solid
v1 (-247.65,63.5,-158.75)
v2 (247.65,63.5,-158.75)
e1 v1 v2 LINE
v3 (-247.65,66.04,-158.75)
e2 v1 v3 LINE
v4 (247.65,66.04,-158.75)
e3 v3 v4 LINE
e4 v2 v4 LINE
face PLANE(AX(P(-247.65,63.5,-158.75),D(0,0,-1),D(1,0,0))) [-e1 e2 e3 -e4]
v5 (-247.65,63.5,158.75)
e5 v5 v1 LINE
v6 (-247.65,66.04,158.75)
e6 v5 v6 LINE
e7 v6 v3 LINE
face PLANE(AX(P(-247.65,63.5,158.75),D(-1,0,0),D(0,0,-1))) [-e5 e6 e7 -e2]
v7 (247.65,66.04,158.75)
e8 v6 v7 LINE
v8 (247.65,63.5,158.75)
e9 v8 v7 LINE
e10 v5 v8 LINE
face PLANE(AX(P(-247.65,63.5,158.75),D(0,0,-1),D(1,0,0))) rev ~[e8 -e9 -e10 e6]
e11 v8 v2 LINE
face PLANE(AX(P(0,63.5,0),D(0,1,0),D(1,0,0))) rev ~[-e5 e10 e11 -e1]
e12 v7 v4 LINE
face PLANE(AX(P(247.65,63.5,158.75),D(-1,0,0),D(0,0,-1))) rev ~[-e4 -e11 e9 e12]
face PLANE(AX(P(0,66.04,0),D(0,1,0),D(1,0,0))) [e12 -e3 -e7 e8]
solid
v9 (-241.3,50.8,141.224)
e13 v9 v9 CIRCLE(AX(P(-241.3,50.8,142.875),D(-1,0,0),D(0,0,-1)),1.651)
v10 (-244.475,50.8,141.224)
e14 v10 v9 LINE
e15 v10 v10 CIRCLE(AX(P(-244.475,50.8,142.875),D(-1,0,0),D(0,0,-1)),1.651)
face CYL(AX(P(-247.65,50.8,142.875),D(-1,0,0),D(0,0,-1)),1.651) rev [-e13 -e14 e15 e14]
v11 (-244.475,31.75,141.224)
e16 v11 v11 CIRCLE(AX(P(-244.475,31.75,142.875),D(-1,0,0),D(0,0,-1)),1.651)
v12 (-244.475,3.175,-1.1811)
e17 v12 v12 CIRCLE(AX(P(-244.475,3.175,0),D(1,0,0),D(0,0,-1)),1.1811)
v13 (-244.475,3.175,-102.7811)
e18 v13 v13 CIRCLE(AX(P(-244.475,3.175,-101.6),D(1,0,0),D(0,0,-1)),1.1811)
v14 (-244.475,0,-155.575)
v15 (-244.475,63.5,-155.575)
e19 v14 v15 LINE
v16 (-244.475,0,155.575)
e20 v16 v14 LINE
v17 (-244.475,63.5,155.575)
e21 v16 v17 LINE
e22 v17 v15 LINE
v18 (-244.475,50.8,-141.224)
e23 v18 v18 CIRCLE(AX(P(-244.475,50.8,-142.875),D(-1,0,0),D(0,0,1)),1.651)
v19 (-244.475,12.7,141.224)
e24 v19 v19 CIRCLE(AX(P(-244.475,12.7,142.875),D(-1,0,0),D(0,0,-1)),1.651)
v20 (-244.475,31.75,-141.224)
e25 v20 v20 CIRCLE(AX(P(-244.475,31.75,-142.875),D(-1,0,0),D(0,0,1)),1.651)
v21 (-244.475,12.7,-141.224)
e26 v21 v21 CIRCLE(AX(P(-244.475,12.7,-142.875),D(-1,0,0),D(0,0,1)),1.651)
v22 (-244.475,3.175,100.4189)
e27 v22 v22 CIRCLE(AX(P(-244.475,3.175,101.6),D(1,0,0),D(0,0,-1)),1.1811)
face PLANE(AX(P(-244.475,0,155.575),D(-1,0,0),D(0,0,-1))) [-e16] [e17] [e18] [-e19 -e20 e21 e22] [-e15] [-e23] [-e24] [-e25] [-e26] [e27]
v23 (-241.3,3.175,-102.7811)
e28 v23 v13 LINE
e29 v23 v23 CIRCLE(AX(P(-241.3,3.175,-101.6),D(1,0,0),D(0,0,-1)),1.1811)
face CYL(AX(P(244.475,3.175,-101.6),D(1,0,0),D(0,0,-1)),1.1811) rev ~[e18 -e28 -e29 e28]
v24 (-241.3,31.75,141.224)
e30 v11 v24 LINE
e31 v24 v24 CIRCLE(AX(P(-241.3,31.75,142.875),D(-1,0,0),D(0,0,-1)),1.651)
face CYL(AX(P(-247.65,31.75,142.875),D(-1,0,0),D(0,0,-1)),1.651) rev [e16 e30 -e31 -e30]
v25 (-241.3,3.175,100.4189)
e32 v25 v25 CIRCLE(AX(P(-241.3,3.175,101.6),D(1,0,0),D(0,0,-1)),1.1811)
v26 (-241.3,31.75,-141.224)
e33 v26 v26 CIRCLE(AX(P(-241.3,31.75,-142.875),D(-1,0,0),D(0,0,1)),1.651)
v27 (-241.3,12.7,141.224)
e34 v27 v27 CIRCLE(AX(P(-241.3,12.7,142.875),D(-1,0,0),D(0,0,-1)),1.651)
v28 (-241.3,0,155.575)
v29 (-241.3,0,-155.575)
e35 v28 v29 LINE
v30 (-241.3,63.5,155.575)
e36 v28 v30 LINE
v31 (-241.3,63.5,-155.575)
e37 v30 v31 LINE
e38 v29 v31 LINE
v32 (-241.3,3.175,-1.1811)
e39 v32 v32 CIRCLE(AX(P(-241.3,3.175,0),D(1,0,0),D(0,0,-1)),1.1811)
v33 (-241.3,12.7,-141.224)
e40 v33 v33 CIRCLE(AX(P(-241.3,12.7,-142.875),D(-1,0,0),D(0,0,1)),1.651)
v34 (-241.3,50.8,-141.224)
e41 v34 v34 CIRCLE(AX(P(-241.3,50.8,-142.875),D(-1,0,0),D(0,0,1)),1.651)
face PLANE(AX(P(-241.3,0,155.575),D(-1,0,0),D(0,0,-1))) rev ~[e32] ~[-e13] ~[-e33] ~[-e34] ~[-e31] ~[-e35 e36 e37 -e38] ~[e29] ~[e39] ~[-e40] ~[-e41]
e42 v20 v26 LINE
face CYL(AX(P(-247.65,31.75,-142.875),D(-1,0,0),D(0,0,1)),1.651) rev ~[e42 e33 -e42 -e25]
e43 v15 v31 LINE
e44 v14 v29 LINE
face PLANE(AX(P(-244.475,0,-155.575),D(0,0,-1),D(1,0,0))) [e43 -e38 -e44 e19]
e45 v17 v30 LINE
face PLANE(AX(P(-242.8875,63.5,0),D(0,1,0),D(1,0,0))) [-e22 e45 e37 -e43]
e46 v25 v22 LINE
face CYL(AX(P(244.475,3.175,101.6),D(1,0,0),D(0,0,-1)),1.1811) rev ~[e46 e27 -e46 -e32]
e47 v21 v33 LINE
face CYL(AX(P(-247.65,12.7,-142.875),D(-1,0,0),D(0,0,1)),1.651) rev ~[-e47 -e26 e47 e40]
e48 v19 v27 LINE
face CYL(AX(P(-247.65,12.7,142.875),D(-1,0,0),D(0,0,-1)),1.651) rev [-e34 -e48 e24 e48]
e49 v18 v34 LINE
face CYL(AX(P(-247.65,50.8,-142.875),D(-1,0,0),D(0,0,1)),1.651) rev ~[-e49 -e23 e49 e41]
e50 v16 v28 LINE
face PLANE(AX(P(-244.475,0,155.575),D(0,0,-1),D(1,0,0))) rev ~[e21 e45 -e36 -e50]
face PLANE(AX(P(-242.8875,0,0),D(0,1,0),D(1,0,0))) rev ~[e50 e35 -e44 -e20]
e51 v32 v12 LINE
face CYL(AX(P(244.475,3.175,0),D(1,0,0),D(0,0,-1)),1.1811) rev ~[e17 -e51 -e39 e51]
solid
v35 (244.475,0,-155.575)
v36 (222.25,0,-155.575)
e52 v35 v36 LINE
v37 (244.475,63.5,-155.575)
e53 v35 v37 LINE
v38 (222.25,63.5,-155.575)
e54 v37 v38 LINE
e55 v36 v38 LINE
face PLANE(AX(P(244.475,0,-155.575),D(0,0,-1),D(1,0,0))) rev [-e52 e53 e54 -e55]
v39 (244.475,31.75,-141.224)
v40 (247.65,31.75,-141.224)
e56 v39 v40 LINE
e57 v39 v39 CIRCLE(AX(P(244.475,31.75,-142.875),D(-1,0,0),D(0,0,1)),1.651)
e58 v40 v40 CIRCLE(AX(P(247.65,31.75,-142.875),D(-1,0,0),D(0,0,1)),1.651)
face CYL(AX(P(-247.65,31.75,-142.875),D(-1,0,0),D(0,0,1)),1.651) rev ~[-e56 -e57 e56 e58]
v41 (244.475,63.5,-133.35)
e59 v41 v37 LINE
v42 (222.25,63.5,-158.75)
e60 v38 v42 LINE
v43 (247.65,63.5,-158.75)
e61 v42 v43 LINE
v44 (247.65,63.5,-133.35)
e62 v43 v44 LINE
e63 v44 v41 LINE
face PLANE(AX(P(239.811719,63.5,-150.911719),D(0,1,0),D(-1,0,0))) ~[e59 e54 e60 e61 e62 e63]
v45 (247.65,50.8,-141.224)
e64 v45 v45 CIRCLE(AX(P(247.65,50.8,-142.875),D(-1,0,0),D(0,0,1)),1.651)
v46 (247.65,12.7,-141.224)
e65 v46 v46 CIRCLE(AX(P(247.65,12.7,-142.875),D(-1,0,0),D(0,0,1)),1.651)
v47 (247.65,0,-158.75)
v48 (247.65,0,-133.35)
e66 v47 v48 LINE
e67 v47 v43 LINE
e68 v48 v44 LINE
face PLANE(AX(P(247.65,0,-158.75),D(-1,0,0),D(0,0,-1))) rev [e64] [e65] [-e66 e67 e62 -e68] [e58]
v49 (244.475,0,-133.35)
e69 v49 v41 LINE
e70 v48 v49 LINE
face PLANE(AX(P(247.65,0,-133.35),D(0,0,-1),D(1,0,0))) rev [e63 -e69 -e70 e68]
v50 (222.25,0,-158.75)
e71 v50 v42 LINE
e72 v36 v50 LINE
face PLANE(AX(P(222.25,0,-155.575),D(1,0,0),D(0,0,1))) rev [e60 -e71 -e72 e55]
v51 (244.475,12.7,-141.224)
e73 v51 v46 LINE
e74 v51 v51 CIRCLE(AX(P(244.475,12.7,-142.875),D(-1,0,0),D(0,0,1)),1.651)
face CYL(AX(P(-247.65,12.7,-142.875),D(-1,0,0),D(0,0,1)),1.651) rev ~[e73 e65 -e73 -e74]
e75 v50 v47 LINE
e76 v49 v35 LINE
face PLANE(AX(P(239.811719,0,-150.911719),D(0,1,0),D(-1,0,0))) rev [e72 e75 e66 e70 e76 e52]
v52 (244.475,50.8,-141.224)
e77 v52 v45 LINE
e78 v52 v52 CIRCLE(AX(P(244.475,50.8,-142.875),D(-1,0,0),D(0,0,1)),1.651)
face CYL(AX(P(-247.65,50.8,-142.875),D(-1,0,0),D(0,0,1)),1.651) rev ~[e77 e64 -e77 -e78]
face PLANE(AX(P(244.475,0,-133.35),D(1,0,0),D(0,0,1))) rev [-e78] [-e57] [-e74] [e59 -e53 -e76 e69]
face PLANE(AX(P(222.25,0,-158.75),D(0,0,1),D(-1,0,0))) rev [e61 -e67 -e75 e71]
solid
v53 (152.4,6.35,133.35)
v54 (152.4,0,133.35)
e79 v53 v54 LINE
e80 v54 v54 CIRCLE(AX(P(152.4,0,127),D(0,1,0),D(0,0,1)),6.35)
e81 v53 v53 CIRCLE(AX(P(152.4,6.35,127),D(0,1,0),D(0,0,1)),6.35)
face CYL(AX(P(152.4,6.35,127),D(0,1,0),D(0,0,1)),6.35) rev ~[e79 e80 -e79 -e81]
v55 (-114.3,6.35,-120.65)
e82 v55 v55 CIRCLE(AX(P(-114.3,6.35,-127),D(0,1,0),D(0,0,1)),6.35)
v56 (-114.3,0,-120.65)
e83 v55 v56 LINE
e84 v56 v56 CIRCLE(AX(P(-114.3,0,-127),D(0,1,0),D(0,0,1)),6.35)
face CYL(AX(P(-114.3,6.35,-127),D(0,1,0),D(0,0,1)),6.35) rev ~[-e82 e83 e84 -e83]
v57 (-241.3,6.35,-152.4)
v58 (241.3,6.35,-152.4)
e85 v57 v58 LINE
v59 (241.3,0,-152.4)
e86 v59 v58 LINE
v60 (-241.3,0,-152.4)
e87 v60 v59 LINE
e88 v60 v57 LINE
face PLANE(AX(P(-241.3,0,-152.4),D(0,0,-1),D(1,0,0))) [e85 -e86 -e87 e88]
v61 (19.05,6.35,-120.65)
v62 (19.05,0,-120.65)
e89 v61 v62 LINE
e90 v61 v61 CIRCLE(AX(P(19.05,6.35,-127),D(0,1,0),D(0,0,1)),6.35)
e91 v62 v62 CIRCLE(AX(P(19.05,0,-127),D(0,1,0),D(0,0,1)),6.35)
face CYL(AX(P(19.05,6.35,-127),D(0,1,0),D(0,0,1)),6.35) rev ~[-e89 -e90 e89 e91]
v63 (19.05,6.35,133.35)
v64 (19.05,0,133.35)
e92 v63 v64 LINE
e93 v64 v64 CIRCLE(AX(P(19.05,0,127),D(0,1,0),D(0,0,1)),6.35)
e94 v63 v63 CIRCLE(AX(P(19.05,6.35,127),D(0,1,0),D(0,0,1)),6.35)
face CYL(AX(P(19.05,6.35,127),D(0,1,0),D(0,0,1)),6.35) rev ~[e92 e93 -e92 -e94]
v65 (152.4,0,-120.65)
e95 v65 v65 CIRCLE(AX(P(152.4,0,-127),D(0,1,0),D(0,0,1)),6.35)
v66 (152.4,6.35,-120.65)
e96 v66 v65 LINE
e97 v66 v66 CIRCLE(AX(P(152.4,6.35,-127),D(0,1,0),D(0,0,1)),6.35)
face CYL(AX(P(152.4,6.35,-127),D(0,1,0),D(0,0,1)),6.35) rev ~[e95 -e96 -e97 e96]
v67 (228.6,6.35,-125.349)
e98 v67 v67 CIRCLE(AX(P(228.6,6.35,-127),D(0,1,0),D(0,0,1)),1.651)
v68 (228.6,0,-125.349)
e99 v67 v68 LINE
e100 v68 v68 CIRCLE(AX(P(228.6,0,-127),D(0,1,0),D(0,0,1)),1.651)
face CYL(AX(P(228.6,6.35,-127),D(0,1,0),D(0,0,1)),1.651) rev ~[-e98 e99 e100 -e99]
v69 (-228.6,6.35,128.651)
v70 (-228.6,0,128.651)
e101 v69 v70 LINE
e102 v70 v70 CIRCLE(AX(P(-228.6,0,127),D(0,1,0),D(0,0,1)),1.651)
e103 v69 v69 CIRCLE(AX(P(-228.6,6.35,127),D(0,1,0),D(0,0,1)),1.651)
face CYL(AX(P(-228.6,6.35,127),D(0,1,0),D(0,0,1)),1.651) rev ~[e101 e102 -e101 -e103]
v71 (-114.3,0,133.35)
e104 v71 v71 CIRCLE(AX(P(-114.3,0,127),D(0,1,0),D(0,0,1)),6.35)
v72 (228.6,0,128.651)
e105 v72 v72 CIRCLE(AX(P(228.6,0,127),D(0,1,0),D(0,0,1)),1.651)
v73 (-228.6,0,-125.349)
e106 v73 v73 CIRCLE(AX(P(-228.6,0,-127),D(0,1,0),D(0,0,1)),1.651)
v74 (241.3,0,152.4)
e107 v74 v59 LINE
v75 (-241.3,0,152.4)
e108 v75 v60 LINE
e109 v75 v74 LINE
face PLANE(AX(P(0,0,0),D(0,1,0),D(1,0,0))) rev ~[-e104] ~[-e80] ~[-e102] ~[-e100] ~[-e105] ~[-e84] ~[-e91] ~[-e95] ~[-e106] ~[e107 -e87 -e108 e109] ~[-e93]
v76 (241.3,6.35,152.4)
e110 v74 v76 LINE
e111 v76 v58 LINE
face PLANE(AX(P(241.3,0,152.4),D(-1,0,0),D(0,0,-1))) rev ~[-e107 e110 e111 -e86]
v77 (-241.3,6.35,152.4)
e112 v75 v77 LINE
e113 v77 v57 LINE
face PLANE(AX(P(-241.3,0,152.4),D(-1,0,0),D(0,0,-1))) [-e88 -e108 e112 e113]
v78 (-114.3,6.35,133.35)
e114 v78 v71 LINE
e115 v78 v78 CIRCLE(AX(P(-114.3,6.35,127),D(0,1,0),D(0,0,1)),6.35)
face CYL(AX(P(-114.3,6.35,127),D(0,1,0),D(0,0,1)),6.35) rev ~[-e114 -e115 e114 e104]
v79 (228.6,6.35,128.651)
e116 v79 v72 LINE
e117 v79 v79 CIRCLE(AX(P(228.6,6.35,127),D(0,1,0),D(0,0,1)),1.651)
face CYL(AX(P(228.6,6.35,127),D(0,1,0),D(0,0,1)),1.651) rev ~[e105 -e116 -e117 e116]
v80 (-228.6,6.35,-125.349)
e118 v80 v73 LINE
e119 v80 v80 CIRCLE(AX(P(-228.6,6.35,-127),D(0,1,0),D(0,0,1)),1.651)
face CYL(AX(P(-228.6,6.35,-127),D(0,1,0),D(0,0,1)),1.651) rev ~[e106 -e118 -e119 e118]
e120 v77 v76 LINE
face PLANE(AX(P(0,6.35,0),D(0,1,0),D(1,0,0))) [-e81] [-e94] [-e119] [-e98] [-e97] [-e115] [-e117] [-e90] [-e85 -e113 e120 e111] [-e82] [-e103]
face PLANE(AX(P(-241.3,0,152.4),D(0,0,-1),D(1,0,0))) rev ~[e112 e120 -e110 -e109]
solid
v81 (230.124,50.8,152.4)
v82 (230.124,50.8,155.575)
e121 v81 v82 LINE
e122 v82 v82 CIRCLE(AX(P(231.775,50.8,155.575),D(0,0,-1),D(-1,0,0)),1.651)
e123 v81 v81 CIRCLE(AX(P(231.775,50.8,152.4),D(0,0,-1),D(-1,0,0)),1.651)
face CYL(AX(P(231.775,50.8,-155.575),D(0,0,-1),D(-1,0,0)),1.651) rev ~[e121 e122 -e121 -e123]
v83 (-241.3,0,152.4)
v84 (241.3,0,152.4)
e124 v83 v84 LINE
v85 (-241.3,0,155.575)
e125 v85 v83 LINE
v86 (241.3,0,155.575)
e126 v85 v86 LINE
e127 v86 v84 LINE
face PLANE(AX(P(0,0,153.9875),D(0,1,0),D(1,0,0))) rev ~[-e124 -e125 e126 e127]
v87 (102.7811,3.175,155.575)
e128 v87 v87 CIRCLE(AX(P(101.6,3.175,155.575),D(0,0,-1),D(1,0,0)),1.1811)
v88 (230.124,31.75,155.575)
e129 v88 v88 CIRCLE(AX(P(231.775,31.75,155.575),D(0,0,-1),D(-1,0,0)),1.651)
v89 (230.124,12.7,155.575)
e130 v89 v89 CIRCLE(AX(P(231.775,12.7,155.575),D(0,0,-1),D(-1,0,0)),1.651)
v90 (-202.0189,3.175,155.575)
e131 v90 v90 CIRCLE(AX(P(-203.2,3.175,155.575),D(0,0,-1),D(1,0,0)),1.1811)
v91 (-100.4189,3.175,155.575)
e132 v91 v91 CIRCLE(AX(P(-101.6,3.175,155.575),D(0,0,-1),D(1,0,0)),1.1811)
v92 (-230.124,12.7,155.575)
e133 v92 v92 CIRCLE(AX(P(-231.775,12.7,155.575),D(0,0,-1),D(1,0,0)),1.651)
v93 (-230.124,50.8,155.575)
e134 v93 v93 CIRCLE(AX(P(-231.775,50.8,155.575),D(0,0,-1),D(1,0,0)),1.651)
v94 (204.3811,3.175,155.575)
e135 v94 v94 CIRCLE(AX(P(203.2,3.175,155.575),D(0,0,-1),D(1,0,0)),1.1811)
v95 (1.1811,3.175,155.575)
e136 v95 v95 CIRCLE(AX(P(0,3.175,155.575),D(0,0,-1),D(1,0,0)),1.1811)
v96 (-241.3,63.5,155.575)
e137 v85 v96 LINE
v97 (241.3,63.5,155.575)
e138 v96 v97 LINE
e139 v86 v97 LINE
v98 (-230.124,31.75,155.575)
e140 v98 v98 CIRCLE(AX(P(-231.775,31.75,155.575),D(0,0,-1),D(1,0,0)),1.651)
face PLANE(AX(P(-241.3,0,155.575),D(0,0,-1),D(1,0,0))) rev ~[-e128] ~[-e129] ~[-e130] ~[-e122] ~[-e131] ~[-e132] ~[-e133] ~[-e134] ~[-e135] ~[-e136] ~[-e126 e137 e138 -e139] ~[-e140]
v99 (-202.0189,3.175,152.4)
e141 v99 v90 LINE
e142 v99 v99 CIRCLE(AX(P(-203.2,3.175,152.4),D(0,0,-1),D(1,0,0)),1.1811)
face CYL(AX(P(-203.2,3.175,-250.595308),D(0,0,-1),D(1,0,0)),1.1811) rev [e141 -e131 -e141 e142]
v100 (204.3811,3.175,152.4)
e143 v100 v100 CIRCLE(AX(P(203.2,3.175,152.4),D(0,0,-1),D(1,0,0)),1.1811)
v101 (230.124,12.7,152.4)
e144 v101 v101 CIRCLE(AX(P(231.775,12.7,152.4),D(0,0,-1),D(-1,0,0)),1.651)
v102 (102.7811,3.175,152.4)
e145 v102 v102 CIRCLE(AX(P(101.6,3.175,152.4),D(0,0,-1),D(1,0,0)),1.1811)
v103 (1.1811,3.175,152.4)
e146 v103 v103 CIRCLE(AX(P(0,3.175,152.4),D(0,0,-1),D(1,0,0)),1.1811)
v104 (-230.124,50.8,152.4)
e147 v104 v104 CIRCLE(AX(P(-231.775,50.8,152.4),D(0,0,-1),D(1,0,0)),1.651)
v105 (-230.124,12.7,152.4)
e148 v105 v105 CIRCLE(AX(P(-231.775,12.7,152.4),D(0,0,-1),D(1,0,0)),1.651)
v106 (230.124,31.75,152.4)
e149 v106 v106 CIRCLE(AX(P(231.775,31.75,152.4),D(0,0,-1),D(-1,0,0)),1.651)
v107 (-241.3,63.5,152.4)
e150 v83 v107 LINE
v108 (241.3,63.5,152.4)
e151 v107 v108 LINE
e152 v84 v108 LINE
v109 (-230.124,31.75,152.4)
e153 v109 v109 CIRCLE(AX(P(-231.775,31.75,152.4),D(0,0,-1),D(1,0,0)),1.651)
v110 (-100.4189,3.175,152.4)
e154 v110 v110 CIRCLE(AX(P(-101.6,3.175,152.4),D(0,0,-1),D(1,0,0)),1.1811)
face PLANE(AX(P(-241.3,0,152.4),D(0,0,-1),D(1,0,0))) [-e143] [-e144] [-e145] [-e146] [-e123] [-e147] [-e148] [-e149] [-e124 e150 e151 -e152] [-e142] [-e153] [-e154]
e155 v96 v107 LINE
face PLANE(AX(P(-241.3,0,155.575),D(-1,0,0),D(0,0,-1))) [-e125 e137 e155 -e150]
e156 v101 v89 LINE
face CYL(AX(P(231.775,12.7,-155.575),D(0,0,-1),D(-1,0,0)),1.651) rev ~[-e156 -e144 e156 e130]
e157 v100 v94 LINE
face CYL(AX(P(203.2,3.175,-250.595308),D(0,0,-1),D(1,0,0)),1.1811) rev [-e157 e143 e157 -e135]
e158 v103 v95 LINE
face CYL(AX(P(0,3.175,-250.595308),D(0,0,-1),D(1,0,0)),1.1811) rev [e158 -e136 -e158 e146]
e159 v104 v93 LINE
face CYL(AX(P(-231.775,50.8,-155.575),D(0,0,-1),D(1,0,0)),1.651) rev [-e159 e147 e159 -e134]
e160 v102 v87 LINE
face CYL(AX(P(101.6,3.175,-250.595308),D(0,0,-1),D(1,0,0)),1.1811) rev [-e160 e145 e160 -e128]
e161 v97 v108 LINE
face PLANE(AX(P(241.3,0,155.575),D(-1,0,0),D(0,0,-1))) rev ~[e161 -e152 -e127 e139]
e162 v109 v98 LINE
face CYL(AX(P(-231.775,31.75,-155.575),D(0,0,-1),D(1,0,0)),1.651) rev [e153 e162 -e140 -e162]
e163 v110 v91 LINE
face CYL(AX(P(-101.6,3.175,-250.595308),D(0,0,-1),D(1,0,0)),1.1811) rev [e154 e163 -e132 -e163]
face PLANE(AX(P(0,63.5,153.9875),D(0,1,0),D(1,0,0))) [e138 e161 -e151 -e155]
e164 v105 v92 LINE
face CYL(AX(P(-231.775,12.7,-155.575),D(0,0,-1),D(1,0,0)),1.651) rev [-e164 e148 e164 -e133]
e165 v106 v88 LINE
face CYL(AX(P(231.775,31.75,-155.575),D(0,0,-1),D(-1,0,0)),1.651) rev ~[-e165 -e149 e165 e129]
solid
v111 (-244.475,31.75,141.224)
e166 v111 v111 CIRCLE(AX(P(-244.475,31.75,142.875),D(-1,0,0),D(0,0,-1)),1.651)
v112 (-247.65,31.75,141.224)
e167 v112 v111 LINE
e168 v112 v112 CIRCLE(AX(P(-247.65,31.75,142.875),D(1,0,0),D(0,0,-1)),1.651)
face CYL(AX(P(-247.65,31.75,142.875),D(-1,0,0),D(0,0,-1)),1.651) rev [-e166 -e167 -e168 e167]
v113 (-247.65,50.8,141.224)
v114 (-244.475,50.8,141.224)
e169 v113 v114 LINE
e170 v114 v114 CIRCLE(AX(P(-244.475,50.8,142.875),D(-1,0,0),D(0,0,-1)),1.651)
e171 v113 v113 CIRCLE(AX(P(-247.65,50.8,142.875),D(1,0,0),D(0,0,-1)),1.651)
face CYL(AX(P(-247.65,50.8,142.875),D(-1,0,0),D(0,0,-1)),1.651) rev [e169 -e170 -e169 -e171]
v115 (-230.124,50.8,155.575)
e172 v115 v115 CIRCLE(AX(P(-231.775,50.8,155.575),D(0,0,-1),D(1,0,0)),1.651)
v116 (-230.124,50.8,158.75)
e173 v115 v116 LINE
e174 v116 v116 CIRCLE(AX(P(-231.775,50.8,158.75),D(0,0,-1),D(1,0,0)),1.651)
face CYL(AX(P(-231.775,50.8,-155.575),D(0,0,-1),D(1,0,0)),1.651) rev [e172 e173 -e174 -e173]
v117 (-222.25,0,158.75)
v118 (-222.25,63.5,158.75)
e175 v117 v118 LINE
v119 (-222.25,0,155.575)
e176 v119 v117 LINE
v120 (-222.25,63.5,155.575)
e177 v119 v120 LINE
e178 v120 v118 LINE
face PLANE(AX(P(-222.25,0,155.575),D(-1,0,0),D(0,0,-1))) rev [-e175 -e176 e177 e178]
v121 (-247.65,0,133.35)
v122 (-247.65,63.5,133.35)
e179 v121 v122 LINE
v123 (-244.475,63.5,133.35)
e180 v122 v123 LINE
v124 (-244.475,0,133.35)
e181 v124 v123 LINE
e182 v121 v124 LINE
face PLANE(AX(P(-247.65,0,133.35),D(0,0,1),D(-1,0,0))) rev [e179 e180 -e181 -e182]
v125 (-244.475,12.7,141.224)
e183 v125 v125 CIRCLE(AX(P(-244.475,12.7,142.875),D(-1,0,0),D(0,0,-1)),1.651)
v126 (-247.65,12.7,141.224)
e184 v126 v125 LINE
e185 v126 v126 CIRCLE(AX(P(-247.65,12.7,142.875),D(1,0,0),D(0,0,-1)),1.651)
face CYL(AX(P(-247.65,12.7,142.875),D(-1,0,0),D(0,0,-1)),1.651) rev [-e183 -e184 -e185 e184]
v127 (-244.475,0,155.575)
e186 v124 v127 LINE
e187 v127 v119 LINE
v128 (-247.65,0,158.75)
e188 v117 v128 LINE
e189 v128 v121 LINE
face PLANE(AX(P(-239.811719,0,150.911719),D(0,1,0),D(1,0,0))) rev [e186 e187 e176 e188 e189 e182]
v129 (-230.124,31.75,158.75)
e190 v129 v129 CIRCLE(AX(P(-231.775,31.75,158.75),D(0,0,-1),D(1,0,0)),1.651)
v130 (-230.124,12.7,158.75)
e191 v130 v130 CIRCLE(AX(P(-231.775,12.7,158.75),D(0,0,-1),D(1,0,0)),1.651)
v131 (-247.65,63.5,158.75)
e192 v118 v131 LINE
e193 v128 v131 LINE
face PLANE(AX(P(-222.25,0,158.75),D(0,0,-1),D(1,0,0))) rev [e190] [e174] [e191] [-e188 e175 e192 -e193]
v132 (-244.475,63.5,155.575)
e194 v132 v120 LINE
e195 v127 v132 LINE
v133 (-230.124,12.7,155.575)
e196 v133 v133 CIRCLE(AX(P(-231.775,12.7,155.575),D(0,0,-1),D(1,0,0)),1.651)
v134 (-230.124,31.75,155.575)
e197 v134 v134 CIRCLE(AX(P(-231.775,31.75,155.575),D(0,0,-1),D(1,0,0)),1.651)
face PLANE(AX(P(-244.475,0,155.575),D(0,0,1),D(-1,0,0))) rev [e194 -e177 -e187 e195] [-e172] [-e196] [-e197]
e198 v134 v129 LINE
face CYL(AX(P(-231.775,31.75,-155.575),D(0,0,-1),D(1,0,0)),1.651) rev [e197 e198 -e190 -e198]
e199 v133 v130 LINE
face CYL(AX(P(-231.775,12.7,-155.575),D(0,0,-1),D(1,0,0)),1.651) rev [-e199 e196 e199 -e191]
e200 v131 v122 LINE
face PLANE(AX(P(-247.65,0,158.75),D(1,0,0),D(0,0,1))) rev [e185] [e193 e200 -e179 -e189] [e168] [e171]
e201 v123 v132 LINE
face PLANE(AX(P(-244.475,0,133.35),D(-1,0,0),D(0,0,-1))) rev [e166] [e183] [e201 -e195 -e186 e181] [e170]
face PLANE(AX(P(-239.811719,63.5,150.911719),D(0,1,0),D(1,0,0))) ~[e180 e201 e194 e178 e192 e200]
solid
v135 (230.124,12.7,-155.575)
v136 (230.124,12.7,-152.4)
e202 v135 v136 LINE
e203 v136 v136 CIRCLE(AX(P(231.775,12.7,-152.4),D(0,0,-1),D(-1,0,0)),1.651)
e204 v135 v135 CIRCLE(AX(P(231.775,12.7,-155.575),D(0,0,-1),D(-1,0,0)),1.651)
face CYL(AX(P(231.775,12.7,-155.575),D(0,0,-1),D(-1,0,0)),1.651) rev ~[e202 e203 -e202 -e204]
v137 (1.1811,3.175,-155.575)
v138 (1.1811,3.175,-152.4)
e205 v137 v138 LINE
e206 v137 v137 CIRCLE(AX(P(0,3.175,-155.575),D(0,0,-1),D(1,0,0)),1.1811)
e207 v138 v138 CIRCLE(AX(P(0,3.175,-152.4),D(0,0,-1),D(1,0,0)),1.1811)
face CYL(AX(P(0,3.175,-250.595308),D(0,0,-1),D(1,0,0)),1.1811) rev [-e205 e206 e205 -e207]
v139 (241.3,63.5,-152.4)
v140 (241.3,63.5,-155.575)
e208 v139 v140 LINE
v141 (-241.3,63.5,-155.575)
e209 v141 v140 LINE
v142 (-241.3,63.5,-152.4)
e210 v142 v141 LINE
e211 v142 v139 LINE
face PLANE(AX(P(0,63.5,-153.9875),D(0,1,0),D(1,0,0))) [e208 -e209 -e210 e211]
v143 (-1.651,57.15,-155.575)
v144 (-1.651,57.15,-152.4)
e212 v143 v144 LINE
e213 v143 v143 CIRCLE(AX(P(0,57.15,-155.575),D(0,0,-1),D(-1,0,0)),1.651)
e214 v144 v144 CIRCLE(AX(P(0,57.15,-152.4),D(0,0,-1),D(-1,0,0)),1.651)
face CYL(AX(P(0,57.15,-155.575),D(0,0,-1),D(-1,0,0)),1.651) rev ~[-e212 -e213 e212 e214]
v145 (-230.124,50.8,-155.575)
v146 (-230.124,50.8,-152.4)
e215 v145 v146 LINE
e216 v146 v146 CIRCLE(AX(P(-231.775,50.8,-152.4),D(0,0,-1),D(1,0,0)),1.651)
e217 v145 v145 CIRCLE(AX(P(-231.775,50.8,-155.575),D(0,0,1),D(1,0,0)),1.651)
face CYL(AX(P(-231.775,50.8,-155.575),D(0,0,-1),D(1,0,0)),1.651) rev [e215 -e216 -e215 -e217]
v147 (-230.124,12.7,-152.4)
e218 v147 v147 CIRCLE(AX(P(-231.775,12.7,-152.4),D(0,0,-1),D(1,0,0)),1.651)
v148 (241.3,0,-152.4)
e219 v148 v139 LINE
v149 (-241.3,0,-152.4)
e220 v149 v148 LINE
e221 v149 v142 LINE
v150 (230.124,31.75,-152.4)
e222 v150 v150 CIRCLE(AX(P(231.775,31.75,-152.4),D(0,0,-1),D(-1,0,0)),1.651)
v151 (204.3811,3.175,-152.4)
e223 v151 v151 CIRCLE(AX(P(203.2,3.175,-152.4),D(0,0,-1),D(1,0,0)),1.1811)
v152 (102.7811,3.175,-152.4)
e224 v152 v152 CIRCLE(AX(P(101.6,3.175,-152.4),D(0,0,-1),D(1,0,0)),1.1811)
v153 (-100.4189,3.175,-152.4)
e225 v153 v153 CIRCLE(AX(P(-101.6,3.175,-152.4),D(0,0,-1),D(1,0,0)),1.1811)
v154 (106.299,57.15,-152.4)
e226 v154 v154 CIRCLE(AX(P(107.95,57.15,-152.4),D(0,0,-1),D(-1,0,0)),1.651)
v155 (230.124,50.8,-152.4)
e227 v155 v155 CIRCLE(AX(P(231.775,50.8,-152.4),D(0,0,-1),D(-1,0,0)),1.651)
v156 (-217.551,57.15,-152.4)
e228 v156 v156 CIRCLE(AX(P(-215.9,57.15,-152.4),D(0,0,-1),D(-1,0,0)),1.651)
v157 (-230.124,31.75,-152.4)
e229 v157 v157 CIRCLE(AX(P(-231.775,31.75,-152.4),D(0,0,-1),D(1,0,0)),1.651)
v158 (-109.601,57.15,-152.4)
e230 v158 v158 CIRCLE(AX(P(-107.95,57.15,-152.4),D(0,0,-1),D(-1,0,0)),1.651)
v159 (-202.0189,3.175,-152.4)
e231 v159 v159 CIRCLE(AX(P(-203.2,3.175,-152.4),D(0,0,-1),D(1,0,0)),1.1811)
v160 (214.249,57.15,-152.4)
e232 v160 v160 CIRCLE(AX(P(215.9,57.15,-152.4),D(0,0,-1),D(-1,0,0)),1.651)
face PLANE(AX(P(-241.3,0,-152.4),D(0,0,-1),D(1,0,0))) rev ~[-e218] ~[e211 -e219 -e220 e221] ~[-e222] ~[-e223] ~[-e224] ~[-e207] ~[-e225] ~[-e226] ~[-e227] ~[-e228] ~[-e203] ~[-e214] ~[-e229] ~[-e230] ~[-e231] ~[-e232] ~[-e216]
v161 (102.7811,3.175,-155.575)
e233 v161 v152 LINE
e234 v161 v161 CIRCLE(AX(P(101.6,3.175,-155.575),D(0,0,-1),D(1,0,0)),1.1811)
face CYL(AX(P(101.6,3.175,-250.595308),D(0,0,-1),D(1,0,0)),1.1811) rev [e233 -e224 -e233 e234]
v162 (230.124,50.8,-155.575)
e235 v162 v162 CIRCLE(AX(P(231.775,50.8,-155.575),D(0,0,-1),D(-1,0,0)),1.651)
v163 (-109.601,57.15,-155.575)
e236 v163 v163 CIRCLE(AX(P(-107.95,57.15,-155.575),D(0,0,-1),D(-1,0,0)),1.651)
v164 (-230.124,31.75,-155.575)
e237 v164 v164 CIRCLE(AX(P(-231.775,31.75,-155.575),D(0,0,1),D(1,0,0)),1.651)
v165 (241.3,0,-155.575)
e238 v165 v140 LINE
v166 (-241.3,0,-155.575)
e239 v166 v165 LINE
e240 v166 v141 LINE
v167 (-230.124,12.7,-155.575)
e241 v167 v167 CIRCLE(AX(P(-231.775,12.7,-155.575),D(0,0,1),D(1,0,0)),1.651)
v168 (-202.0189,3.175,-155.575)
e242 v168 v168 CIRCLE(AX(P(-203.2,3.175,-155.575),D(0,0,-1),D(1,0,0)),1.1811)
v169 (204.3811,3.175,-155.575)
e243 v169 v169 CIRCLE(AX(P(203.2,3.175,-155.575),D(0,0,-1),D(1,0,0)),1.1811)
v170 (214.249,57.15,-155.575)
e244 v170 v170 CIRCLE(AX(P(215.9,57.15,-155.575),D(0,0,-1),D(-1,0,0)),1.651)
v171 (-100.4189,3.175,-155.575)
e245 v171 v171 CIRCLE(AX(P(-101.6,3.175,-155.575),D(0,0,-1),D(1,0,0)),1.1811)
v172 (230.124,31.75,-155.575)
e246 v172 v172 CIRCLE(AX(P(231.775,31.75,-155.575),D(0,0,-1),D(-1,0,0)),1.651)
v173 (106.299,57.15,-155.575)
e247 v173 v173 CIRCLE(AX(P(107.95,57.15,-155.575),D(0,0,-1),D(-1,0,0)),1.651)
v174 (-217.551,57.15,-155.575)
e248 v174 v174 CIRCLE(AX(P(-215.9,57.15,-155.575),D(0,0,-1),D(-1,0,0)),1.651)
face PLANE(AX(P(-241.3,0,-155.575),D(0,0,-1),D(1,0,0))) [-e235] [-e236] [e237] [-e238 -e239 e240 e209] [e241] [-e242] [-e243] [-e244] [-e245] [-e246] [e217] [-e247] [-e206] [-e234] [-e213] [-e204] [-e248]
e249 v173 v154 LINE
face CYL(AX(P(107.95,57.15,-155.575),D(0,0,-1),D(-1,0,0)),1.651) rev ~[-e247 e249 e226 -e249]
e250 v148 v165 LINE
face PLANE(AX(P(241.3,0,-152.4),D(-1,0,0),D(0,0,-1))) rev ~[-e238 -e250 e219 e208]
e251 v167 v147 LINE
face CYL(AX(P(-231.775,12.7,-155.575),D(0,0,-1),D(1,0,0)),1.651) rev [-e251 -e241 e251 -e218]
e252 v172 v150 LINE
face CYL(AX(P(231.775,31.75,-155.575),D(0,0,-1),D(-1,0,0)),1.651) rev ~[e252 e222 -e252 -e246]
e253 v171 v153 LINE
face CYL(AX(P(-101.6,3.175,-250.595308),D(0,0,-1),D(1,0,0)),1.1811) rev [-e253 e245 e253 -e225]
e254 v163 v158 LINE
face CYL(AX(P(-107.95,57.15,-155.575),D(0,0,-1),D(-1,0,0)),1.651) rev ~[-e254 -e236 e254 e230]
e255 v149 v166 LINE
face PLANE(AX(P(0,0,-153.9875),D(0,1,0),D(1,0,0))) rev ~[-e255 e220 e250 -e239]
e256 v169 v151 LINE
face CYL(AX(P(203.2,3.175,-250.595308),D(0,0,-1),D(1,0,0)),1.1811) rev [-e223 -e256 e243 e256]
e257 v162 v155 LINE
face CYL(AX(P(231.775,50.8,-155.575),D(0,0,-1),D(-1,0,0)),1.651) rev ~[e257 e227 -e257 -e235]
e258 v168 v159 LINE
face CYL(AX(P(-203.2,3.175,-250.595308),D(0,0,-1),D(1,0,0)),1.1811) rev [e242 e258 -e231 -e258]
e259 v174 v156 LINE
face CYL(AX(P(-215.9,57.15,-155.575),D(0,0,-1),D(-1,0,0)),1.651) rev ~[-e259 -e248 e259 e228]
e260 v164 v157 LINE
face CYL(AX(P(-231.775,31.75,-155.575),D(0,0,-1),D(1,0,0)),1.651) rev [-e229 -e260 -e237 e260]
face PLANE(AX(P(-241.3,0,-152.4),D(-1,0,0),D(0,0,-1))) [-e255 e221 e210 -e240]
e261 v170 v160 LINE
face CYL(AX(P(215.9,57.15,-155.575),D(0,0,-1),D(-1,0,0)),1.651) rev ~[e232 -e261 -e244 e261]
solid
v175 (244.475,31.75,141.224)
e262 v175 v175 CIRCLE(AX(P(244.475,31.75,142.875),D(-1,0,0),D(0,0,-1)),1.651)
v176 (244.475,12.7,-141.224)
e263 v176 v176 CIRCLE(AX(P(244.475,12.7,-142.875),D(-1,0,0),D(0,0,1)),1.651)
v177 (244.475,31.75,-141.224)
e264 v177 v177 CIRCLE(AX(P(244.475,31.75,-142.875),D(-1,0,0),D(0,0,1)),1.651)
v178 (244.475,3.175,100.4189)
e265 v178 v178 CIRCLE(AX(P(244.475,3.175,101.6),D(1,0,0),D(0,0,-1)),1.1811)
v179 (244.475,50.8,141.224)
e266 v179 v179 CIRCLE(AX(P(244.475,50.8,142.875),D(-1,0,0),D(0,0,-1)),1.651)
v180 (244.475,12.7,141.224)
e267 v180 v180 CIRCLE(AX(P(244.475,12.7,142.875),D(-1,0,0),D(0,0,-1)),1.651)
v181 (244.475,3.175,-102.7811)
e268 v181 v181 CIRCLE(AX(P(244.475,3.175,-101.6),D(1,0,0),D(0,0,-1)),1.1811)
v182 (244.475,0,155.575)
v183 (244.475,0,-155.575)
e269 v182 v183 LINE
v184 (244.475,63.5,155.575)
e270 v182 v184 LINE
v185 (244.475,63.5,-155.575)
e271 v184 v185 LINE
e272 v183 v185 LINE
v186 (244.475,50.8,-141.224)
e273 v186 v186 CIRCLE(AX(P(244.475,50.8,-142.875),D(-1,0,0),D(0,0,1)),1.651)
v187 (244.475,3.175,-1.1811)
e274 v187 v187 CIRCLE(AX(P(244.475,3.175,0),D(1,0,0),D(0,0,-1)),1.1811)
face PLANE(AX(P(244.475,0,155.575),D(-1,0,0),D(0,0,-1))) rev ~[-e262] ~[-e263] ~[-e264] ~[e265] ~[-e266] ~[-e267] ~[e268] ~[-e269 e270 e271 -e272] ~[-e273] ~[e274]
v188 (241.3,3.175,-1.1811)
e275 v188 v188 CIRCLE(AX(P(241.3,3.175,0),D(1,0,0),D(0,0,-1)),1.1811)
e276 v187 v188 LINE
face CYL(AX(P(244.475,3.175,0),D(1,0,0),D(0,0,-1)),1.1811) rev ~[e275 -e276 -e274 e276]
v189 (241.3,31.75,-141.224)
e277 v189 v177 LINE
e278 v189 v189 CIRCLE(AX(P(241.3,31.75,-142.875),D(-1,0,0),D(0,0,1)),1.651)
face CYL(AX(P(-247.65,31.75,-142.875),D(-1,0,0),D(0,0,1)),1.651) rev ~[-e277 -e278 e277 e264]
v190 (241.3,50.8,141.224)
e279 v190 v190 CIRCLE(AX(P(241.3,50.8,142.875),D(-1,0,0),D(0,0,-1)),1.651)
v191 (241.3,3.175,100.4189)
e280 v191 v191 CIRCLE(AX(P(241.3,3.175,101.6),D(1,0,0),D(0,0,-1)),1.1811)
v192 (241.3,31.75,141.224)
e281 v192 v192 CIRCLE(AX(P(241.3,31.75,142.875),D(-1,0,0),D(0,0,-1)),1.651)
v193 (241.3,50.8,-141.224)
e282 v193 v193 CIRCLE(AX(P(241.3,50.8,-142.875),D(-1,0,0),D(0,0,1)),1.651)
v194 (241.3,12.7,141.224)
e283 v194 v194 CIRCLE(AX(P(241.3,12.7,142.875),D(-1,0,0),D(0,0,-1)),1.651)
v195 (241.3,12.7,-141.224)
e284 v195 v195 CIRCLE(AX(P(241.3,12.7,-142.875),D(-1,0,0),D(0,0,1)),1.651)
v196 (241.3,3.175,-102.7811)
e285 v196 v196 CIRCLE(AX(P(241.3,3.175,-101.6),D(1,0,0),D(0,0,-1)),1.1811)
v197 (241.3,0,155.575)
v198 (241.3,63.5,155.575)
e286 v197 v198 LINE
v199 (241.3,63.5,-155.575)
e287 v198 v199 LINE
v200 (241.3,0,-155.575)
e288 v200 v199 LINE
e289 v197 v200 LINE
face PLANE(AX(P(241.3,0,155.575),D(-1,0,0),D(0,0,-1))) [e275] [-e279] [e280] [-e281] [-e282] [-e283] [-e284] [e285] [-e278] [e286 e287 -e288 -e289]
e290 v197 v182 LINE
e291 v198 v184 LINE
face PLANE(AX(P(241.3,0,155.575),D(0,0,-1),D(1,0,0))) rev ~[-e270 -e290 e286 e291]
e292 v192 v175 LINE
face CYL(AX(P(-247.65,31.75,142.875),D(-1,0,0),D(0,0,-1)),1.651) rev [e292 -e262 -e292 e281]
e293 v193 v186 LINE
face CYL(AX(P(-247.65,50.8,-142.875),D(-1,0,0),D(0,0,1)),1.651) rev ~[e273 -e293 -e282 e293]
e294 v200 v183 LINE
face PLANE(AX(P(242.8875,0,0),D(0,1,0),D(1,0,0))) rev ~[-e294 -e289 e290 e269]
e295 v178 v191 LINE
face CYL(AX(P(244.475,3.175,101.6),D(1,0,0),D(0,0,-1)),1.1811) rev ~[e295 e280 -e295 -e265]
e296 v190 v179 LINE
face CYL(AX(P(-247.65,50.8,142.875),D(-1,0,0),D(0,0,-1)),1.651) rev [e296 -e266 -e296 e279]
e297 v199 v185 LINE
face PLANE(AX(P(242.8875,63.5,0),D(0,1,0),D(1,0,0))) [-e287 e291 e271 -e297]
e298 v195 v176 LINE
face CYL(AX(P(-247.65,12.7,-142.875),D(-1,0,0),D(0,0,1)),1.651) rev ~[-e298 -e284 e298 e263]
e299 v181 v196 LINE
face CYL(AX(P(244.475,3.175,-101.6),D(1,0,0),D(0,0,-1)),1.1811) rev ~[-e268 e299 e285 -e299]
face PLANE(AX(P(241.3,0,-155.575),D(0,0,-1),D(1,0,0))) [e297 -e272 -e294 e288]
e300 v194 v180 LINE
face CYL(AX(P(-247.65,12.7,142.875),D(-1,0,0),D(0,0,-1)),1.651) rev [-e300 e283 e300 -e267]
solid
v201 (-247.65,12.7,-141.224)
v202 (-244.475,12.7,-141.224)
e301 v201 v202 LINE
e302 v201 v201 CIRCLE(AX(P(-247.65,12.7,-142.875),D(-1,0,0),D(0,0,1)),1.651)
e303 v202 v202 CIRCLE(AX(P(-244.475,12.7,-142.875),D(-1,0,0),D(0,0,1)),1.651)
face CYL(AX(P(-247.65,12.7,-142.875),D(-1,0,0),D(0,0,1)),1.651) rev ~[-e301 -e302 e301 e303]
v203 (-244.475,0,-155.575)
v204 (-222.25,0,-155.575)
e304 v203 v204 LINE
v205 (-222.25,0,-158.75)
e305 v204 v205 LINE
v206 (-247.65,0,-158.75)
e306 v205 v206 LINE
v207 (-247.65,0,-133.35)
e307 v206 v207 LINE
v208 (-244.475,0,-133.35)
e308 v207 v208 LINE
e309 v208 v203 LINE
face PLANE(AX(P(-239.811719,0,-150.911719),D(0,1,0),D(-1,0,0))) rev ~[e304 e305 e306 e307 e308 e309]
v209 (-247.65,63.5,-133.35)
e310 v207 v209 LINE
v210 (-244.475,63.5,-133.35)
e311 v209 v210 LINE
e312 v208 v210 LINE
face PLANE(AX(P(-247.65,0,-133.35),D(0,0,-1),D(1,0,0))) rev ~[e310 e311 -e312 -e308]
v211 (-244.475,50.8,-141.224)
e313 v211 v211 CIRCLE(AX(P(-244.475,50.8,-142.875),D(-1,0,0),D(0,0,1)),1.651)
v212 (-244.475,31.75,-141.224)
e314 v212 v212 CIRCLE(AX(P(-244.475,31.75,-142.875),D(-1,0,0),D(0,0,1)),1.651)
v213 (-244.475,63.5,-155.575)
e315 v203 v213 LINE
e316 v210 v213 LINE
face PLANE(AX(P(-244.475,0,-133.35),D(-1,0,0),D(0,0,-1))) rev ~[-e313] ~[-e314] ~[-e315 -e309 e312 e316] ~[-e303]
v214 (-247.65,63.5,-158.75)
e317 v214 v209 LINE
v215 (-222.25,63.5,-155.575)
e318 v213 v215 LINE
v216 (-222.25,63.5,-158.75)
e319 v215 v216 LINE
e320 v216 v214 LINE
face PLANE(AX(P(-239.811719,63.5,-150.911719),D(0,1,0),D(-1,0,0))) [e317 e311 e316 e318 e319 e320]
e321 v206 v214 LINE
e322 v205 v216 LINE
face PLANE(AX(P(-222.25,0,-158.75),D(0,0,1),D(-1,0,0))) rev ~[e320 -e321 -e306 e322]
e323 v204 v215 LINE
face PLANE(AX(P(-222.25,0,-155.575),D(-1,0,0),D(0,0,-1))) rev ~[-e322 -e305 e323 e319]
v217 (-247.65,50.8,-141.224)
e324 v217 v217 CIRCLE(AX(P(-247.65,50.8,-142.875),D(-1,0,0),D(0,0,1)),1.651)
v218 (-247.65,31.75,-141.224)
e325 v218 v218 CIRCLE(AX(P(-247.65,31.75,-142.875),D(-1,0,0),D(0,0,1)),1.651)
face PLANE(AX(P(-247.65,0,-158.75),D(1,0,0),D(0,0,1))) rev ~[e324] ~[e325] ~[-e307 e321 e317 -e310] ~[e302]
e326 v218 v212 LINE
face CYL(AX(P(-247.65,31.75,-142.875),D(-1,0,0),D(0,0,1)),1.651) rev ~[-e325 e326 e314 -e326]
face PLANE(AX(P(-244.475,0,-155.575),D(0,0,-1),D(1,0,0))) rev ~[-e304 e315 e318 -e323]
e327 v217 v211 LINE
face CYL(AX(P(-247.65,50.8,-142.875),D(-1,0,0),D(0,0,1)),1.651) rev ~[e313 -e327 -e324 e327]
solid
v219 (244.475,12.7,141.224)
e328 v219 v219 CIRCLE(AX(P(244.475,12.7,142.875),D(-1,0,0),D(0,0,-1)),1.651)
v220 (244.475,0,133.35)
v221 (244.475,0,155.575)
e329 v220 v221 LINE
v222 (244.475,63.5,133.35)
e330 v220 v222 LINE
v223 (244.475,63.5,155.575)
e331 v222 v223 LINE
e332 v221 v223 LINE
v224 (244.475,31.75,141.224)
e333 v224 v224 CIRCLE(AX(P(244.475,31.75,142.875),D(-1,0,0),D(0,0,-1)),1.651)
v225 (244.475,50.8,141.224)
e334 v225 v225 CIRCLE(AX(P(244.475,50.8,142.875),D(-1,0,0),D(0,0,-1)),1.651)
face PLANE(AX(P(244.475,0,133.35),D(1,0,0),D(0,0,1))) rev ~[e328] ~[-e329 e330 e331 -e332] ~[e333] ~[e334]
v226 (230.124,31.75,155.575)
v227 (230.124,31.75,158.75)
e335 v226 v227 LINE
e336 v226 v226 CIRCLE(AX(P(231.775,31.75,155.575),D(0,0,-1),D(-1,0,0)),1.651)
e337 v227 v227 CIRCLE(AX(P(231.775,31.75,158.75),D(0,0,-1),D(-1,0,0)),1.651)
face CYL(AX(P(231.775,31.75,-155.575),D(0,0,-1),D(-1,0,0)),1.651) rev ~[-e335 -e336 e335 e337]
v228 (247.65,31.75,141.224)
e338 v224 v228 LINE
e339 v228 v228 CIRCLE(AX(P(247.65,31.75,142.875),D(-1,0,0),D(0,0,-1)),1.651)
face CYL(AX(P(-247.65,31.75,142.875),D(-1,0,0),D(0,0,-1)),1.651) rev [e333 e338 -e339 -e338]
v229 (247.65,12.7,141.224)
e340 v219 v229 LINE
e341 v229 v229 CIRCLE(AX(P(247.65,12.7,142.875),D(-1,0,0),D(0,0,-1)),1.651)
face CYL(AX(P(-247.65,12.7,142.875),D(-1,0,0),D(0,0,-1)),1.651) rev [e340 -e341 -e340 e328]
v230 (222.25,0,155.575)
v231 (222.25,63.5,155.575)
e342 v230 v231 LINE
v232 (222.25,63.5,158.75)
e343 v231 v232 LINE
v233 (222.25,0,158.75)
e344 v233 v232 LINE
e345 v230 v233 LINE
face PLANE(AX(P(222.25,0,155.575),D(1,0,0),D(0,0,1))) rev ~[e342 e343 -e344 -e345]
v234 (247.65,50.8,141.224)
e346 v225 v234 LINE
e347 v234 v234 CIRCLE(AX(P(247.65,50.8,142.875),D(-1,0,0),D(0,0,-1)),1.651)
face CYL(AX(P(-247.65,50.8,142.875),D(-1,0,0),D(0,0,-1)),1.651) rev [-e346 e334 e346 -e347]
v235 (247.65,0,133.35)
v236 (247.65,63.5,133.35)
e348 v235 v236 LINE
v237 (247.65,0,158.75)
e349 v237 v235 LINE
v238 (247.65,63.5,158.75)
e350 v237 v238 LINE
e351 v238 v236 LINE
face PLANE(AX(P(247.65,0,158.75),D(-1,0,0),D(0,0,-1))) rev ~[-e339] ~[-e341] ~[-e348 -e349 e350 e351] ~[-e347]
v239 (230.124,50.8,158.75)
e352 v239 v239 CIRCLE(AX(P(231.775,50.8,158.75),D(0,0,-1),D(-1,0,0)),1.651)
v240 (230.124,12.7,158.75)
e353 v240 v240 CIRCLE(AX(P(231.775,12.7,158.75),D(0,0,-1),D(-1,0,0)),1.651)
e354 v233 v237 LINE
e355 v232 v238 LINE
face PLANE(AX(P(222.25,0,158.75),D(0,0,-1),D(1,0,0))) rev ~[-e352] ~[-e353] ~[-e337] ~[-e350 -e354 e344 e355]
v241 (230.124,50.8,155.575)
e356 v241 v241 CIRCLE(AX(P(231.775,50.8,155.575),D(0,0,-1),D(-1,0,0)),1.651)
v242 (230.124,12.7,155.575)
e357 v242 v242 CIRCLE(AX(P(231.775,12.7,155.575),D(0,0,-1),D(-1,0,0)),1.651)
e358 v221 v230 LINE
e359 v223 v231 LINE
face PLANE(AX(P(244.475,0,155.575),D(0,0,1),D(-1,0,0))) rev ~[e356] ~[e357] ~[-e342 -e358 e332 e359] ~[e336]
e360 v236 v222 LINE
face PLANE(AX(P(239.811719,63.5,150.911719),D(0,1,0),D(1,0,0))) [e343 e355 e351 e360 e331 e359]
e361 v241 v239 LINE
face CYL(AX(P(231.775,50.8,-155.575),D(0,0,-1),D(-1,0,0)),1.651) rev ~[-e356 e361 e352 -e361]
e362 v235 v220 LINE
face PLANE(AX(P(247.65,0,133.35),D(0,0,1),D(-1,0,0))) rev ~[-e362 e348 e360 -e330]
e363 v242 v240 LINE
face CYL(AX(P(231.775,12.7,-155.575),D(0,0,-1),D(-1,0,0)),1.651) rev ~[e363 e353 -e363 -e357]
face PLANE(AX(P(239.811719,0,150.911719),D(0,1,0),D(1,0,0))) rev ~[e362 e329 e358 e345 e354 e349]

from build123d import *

# Parameters (mm, degrees)
SKETCH1_W                  = 482.6
SKETCH1_H                  = 304.8
BOSS_EXTRUDE1_DEPTH        = 6.35
BOSS_EXTRUDE2_DEPTH        = 57.15
BOSS_EXTRUDE2_DEPTH_BACK   = 6.35
SKETCH2_W                  = 482.6
SKETCH2_H                  = 3.175
BOSS_EXTRUDE2_2_DEPTH      = 57.15
BOSS_EXTRUDE2_2_DEPTH_BACK = 6.35
BOSS_EXTRUDE3_START        = -6.35
SKETCH3_W                  = 3.175
SKETCH3_H                  = 311.15
BOSS_EXTRUDE3_DEPTH        = 63.5
BOSS_EXTRUDE3_2_DEPTH      = 63.5
BOSS_EXTRUDE4_DEPTH        = 63.5
SKETCH5_R                  = 1.651
CUT_EXTRUDE1_DEPTH         = 406.170307556
SKETCH6_R                  = 1.651
CUT_EXTRUDE2_DEPTH         = 524.980822645
CUT_EXTRUDE3_DEPTH         = 406.170307556
CUT_EXTRUDE3_DEPTH_BACK    = 406.170307556
SKETCH7_R                  = 1.1811
SKETCH8_R                  = 1.1811
CUT_EXTRUDE4_DEPTH         = 521.980640835
SKETCH9_W                  = 495.3
SKETCH9_H                  = 317.5
BOSS_EXTRUDE5_DEPTH        = 2.54
SKETCH11_R                 = 1.651
CUT_EXTRUDE6_DEPTH         = 3.175
SKETCH13_R                 = 1.651
CUT_EXTRUDE8_DEPTH         = 301.15826009
SKETCH14_R                 = 6.35
CUT_EXTRUDE9_DEPTH         = 301.15826009


with BuildPart() as part:
    # Sketch1 → Boss-Extrude1 (new body)
    with BuildSketch(Plane(origin=(0, 0, 0), x_dir=(1, 0, 0), z_dir=(0, 1, 0))):
        Rectangle(SKETCH1_W, SKETCH1_H)
    extrude(amount=BOSS_EXTRUDE1_DEPTH)

    # Sketch13 → Cut-Extrude8 (cut, through all)
    with BuildSketch(Plane(origin=(0, 6.35, 0), x_dir=(1, 0, 0), z_dir=(0, 1, 0))):
        with Locations(Location((-228.6, 127, 0), (0, 0, 270))):
            Circle(SKETCH13_R)
        with Locations(Location((228.6, 127, 0), (0, 0, 270))):
            Circle(SKETCH13_R)
        with Locations(Location((228.6, -127, 0), (0, 0, 270))):
            Circle(SKETCH13_R)
        with Locations(Location((-228.6, -127, 0), (0, 0, 270))):
            Circle(SKETCH13_R)
    extrude(amount=-CUT_EXTRUDE8_DEPTH, mode=Mode.SUBTRACT)

    # Sketch14 → Cut-Extrude9 (cut, through all)
    with BuildSketch(Plane(origin=(0, 6.35, 0), x_dir=(1, 0, 0), z_dir=(0, 1, 0))):
        with Locations(Location((152.4, 127, 0), (0, 0, 270))):
            Circle(SKETCH14_R)
        with Locations(Location((152.4, -127, 0), (0, 0, 270))):
            Circle(SKETCH14_R)
        with Locations(Location((19.05, -127, 0), (0, 0, 270))):
            Circle(SKETCH14_R)
        with Locations(Location((19.05, 127, 0), (0, 0, 270))):
            Circle(SKETCH14_R)
        with Locations(Location((-114.3, 127, 0), (0, 0, 270))):
            Circle(SKETCH14_R)
        with Locations(Location((-114.3, -127, 0), (0, 0, 270))):
            Circle(SKETCH14_R)
    extrude(amount=-CUT_EXTRUDE9_DEPTH, mode=Mode.SUBTRACT)


with BuildPart() as body_2:
    # Sketch2 → Boss-Extrude2 (new, two sides: drawn at the far end of the back side and taken through both)
    with BuildSketch(Plane(origin=(0, 6.35, 0), x_dir=(1, 0, 0), z_dir=(0, 1, 0)).offset(-BOSS_EXTRUDE2_DEPTH_BACK)):
        with Locations((0, 153.9875)):
            Rectangle(SKETCH2_W, SKETCH2_H)
    extrude(amount=BOSS_EXTRUDE2_DEPTH + BOSS_EXTRUDE2_DEPTH_BACK)


with BuildPart() as body_3:
    # Sketch2 → Boss-Extrude2 2 (new, two sides: drawn at the far end of the back side and taken through both)
    with BuildSketch(Plane(origin=(0, 6.35, 0), x_dir=(1, 0, 0), z_dir=(0, 1, 0)).offset(-BOSS_EXTRUDE2_2_DEPTH_BACK)):
        with Locations((0, -153.9875)):
            Rectangle(SKETCH2_W, SKETCH2_H)
    extrude(amount=BOSS_EXTRUDE2_2_DEPTH + BOSS_EXTRUDE2_2_DEPTH_BACK)


with BuildPart() as body_4:
    # Sketch3 → Boss-Extrude3 (new body)
    with BuildSketch(Plane(origin=(0, 6.35, 0), x_dir=(1, 0, 0), z_dir=(0, 1, 0)).offset(BOSS_EXTRUDE3_START)):
        with Locations((-242.8875, 0)):
            Rectangle(SKETCH3_W, SKETCH3_H)
    extrude(amount=BOSS_EXTRUDE3_DEPTH)


with BuildPart() as body_5:
    # Sketch3 → Boss-Extrude3 2 (new body)
    with BuildSketch(Plane(origin=(0, 6.35, 0), x_dir=(1, 0, 0), z_dir=(0, 1, 0)).offset(BOSS_EXTRUDE3_START)):
        with Locations((242.8875, 0)):
            Rectangle(SKETCH3_W, SKETCH3_H)
    extrude(amount=BOSS_EXTRUDE3_2_DEPTH)


with BuildPart() as body_6:
    # Sketch4 → Boss-Extrude4 (new body)
    with BuildSketch(Plane.XZ):
        Polygon((-244.475, -155.575), (-222.25, -155.575), (-222.25, -158.75), (-247.65, -158.75), (-247.65, -133.35), (-244.475, -133.35), align=None)
    extrude(amount=-BOSS_EXTRUDE4_DEPTH)


with BuildPart() as body_7:
    # Mirror1: mirrored copy
    add(body_6.part.mirror(Plane(origin=(0, 0, 0), x_dir=(0, 0, 1), z_dir=(1, 0, 0))))


with BuildPart() as body_8:
    # Mirror2: mirrored copy
    add(body_6.part.mirror(Plane.XY))


with BuildPart() as body_9:
    # Mirror2 2: mirrored copy
    add(body_7.part.mirror(Plane.XY))


with BuildPart() as cut_extrude1_tool:
    # Sketch5 → Cut-Extrude1 (new, through all)
    with BuildSketch(Plane(origin=(0, 0, -155.575), x_dir=(-1, 0, 0), z_dir=(0, 0, -1))):
        with Locations((-231.775, 50.8)):
            Circle(SKETCH5_R)
        with Locations((-231.775, 31.75)):
            Circle(SKETCH5_R)
        with Locations((-231.775, 12.7)):
            Circle(SKETCH5_R)
    cut_extrude1 = extrude(amount=-CUT_EXTRUDE1_DEPTH)


with BuildPart() as body_2_1:
    add(body_2.part)

    # Cut-Extrude1: cut by cut_extrude1_tool
    add(cut_extrude1_tool.part, mode=Mode.SUBTRACT)


with BuildPart() as body_3_1:
    add(body_3.part)

    # Cut-Extrude1: cut by cut_extrude1_tool
    add(cut_extrude1_tool.part, mode=Mode.SUBTRACT)


with BuildPart() as body_9_1:
    add(body_9.part)

    # Cut-Extrude1: cut by cut_extrude1_tool
    add(cut_extrude1_tool.part, mode=Mode.SUBTRACT)


with BuildPart() as mirror3_tool:
    # Mirror3: Cut-Extrude1 across plane
    add(cut_extrude1.mirror(Plane(origin=(0, 0, 0), x_dir=(0, 0, 1), z_dir=(1, 0, 0))))


with BuildPart() as body_2_2:
    add(body_2_1.part)

    # Mirror3: cut by mirror3_tool
    add(mirror3_tool.part, mode=Mode.SUBTRACT)


with BuildPart() as body_3_2:
    add(body_3_1.part)

    # Mirror3: cut by mirror3_tool
    add(mirror3_tool.part, mode=Mode.SUBTRACT)


with BuildPart() as body_8_1:
    add(body_8.part)

    # Mirror3: cut by mirror3_tool
    add(mirror3_tool.part, mode=Mode.SUBTRACT)


with BuildPart() as cut_extrude2_tool:
    # Sketch6 → Cut-Extrude2 (new, through all)
    with BuildSketch(Plane.ZY.offset(247.65)):
        with Locations((-142.875, 50.8)):
            Circle(SKETCH6_R)
        with Locations((-142.875, 31.75)):
            Circle(SKETCH6_R)
        with Locations((-142.875, 12.7)):
            Circle(SKETCH6_R)
    cut_extrude2 = extrude(amount=-CUT_EXTRUDE2_DEPTH)


with BuildPart() as body_4_1:
    add(body_4.part)

    # Cut-Extrude2: cut by cut_extrude2_tool
    add(cut_extrude2_tool.part, mode=Mode.SUBTRACT)


with BuildPart() as body_5_1:
    add(body_5.part)

    # Cut-Extrude2: cut by cut_extrude2_tool
    add(cut_extrude2_tool.part, mode=Mode.SUBTRACT)


with BuildPart() as body_6_1:
    add(body_6.part)

    # Cut-Extrude2: cut by cut_extrude2_tool
    add(cut_extrude2_tool.part, mode=Mode.SUBTRACT)


with BuildPart() as body_7_1:
    add(body_7.part)

    # Cut-Extrude2: cut by cut_extrude2_tool
    add(cut_extrude2_tool.part, mode=Mode.SUBTRACT)


with BuildPart() as mirror4_tool:
    # Mirror4: Cut-Extrude2 across plane
    add(cut_extrude2.mirror(Plane.XY))


with BuildPart() as body_4_2:
    add(body_4_1.part)

    # Mirror4: cut by mirror4_tool
    add(mirror4_tool.part, mode=Mode.SUBTRACT)


with BuildPart() as body_5_2:
    add(body_5_1.part)

    # Mirror4: cut by mirror4_tool
    add(mirror4_tool.part, mode=Mode.SUBTRACT)


with BuildPart() as body_8_2:
    add(body_8_1.part)

    # Mirror4: cut by mirror4_tool
    add(mirror4_tool.part, mode=Mode.SUBTRACT)


with BuildPart() as body_9_2:
    add(body_9_1.part)

    # Mirror4: cut by mirror4_tool
    add(mirror4_tool.part, mode=Mode.SUBTRACT)


with BuildPart() as cut_extrude3_tool:
    # Sketch7 → Cut-Extrude3 (new, two sides: drawn at the far end of the back side and taken through both)
    with BuildSketch(Plane.XY.offset(155.575).offset(-CUT_EXTRUDE3_DEPTH_BACK)):
        with Locations((-203.2, 3.175)):
            Circle(SKETCH7_R)
        with Locations((0, 3.175)):
            Circle(SKETCH7_R)
        with Locations((203.2, 3.175)):
            Circle(SKETCH7_R)
        with Locations((101.6, 3.175)):
            Circle(SKETCH7_R)
        with Locations((-101.6, 3.175)):
            Circle(SKETCH7_R)
    extrude(amount=CUT_EXTRUDE3_DEPTH + CUT_EXTRUDE3_DEPTH_BACK)


with BuildPart() as body_3_3:
    add(body_3_2.part)

    # Cut-Extrude3: cut by cut_extrude3_tool
    add(cut_extrude3_tool.part, mode=Mode.SUBTRACT)


with BuildPart() as body_2_3:
    add(body_2_2.part)

    # Cut-Extrude3: cut by cut_extrude3_tool
    add(cut_extrude3_tool.part, mode=Mode.SUBTRACT)

    # Sketch11 → Cut-Extrude6 (cut)
    with BuildSketch(Plane(origin=(0, 0, -155.575), x_dir=(-1, 0, 0), z_dir=(0, 0, -1))):
        with Locations((-215.9, 57.15)):
            Circle(SKETCH11_R)
        with Locations((-107.95, 57.15)):
            Circle(SKETCH11_R)
        with Locations((0, 57.15)):
            Circle(SKETCH11_R)
        with Locations((107.95, 57.15)):
            Circle(SKETCH11_R)
        with Locations((215.9, 57.15)):
            Circle(SKETCH11_R)
    extrude(amount=-CUT_EXTRUDE6_DEPTH, mode=Mode.SUBTRACT)


with BuildPart() as cut_extrude4_tool:
    # Sketch8 → Cut-Extrude4 (new, through all)
    with BuildSketch(Plane(origin=(244.475, 0, 0), x_dir=(0, 0, -1), z_dir=(1, 0, 0))):
        with Locations((0, 3.175)):
            Circle(SKETCH8_R)
        with Locations((101.6, 3.175)):
            Circle(SKETCH8_R)
        with Locations((-101.6, 3.175)):
            Circle(SKETCH8_R)
    extrude(amount=-CUT_EXTRUDE4_DEPTH)


with BuildPart() as body_5_3:
    add(body_5_2.part)

    # Cut-Extrude4: cut by cut_extrude4_tool
    add(cut_extrude4_tool.part, mode=Mode.SUBTRACT)


with BuildPart() as body_4_3:
    add(body_4_2.part)

    # Cut-Extrude4: cut by cut_extrude4_tool
    add(cut_extrude4_tool.part, mode=Mode.SUBTRACT)


with BuildPart() as body_10:
    # Sketch9 → Boss-Extrude5 (new body)
    with BuildSketch(Plane(origin=(0, 63.5, 0), x_dir=(1, 0, 0), z_dir=(0, 1, 0))):
        Rectangle(SKETCH9_W, SKETCH9_H)
    extrude(amount=BOSS_EXTRUDE5_DEPTH)


solid = Compound([part.part, body_6_1.part, body_7_1.part, body_8_2.part, body_9_2.part, body_3_3.part, body_2_3.part, body_5_3.part, body_4_3.part, body_10.part])
